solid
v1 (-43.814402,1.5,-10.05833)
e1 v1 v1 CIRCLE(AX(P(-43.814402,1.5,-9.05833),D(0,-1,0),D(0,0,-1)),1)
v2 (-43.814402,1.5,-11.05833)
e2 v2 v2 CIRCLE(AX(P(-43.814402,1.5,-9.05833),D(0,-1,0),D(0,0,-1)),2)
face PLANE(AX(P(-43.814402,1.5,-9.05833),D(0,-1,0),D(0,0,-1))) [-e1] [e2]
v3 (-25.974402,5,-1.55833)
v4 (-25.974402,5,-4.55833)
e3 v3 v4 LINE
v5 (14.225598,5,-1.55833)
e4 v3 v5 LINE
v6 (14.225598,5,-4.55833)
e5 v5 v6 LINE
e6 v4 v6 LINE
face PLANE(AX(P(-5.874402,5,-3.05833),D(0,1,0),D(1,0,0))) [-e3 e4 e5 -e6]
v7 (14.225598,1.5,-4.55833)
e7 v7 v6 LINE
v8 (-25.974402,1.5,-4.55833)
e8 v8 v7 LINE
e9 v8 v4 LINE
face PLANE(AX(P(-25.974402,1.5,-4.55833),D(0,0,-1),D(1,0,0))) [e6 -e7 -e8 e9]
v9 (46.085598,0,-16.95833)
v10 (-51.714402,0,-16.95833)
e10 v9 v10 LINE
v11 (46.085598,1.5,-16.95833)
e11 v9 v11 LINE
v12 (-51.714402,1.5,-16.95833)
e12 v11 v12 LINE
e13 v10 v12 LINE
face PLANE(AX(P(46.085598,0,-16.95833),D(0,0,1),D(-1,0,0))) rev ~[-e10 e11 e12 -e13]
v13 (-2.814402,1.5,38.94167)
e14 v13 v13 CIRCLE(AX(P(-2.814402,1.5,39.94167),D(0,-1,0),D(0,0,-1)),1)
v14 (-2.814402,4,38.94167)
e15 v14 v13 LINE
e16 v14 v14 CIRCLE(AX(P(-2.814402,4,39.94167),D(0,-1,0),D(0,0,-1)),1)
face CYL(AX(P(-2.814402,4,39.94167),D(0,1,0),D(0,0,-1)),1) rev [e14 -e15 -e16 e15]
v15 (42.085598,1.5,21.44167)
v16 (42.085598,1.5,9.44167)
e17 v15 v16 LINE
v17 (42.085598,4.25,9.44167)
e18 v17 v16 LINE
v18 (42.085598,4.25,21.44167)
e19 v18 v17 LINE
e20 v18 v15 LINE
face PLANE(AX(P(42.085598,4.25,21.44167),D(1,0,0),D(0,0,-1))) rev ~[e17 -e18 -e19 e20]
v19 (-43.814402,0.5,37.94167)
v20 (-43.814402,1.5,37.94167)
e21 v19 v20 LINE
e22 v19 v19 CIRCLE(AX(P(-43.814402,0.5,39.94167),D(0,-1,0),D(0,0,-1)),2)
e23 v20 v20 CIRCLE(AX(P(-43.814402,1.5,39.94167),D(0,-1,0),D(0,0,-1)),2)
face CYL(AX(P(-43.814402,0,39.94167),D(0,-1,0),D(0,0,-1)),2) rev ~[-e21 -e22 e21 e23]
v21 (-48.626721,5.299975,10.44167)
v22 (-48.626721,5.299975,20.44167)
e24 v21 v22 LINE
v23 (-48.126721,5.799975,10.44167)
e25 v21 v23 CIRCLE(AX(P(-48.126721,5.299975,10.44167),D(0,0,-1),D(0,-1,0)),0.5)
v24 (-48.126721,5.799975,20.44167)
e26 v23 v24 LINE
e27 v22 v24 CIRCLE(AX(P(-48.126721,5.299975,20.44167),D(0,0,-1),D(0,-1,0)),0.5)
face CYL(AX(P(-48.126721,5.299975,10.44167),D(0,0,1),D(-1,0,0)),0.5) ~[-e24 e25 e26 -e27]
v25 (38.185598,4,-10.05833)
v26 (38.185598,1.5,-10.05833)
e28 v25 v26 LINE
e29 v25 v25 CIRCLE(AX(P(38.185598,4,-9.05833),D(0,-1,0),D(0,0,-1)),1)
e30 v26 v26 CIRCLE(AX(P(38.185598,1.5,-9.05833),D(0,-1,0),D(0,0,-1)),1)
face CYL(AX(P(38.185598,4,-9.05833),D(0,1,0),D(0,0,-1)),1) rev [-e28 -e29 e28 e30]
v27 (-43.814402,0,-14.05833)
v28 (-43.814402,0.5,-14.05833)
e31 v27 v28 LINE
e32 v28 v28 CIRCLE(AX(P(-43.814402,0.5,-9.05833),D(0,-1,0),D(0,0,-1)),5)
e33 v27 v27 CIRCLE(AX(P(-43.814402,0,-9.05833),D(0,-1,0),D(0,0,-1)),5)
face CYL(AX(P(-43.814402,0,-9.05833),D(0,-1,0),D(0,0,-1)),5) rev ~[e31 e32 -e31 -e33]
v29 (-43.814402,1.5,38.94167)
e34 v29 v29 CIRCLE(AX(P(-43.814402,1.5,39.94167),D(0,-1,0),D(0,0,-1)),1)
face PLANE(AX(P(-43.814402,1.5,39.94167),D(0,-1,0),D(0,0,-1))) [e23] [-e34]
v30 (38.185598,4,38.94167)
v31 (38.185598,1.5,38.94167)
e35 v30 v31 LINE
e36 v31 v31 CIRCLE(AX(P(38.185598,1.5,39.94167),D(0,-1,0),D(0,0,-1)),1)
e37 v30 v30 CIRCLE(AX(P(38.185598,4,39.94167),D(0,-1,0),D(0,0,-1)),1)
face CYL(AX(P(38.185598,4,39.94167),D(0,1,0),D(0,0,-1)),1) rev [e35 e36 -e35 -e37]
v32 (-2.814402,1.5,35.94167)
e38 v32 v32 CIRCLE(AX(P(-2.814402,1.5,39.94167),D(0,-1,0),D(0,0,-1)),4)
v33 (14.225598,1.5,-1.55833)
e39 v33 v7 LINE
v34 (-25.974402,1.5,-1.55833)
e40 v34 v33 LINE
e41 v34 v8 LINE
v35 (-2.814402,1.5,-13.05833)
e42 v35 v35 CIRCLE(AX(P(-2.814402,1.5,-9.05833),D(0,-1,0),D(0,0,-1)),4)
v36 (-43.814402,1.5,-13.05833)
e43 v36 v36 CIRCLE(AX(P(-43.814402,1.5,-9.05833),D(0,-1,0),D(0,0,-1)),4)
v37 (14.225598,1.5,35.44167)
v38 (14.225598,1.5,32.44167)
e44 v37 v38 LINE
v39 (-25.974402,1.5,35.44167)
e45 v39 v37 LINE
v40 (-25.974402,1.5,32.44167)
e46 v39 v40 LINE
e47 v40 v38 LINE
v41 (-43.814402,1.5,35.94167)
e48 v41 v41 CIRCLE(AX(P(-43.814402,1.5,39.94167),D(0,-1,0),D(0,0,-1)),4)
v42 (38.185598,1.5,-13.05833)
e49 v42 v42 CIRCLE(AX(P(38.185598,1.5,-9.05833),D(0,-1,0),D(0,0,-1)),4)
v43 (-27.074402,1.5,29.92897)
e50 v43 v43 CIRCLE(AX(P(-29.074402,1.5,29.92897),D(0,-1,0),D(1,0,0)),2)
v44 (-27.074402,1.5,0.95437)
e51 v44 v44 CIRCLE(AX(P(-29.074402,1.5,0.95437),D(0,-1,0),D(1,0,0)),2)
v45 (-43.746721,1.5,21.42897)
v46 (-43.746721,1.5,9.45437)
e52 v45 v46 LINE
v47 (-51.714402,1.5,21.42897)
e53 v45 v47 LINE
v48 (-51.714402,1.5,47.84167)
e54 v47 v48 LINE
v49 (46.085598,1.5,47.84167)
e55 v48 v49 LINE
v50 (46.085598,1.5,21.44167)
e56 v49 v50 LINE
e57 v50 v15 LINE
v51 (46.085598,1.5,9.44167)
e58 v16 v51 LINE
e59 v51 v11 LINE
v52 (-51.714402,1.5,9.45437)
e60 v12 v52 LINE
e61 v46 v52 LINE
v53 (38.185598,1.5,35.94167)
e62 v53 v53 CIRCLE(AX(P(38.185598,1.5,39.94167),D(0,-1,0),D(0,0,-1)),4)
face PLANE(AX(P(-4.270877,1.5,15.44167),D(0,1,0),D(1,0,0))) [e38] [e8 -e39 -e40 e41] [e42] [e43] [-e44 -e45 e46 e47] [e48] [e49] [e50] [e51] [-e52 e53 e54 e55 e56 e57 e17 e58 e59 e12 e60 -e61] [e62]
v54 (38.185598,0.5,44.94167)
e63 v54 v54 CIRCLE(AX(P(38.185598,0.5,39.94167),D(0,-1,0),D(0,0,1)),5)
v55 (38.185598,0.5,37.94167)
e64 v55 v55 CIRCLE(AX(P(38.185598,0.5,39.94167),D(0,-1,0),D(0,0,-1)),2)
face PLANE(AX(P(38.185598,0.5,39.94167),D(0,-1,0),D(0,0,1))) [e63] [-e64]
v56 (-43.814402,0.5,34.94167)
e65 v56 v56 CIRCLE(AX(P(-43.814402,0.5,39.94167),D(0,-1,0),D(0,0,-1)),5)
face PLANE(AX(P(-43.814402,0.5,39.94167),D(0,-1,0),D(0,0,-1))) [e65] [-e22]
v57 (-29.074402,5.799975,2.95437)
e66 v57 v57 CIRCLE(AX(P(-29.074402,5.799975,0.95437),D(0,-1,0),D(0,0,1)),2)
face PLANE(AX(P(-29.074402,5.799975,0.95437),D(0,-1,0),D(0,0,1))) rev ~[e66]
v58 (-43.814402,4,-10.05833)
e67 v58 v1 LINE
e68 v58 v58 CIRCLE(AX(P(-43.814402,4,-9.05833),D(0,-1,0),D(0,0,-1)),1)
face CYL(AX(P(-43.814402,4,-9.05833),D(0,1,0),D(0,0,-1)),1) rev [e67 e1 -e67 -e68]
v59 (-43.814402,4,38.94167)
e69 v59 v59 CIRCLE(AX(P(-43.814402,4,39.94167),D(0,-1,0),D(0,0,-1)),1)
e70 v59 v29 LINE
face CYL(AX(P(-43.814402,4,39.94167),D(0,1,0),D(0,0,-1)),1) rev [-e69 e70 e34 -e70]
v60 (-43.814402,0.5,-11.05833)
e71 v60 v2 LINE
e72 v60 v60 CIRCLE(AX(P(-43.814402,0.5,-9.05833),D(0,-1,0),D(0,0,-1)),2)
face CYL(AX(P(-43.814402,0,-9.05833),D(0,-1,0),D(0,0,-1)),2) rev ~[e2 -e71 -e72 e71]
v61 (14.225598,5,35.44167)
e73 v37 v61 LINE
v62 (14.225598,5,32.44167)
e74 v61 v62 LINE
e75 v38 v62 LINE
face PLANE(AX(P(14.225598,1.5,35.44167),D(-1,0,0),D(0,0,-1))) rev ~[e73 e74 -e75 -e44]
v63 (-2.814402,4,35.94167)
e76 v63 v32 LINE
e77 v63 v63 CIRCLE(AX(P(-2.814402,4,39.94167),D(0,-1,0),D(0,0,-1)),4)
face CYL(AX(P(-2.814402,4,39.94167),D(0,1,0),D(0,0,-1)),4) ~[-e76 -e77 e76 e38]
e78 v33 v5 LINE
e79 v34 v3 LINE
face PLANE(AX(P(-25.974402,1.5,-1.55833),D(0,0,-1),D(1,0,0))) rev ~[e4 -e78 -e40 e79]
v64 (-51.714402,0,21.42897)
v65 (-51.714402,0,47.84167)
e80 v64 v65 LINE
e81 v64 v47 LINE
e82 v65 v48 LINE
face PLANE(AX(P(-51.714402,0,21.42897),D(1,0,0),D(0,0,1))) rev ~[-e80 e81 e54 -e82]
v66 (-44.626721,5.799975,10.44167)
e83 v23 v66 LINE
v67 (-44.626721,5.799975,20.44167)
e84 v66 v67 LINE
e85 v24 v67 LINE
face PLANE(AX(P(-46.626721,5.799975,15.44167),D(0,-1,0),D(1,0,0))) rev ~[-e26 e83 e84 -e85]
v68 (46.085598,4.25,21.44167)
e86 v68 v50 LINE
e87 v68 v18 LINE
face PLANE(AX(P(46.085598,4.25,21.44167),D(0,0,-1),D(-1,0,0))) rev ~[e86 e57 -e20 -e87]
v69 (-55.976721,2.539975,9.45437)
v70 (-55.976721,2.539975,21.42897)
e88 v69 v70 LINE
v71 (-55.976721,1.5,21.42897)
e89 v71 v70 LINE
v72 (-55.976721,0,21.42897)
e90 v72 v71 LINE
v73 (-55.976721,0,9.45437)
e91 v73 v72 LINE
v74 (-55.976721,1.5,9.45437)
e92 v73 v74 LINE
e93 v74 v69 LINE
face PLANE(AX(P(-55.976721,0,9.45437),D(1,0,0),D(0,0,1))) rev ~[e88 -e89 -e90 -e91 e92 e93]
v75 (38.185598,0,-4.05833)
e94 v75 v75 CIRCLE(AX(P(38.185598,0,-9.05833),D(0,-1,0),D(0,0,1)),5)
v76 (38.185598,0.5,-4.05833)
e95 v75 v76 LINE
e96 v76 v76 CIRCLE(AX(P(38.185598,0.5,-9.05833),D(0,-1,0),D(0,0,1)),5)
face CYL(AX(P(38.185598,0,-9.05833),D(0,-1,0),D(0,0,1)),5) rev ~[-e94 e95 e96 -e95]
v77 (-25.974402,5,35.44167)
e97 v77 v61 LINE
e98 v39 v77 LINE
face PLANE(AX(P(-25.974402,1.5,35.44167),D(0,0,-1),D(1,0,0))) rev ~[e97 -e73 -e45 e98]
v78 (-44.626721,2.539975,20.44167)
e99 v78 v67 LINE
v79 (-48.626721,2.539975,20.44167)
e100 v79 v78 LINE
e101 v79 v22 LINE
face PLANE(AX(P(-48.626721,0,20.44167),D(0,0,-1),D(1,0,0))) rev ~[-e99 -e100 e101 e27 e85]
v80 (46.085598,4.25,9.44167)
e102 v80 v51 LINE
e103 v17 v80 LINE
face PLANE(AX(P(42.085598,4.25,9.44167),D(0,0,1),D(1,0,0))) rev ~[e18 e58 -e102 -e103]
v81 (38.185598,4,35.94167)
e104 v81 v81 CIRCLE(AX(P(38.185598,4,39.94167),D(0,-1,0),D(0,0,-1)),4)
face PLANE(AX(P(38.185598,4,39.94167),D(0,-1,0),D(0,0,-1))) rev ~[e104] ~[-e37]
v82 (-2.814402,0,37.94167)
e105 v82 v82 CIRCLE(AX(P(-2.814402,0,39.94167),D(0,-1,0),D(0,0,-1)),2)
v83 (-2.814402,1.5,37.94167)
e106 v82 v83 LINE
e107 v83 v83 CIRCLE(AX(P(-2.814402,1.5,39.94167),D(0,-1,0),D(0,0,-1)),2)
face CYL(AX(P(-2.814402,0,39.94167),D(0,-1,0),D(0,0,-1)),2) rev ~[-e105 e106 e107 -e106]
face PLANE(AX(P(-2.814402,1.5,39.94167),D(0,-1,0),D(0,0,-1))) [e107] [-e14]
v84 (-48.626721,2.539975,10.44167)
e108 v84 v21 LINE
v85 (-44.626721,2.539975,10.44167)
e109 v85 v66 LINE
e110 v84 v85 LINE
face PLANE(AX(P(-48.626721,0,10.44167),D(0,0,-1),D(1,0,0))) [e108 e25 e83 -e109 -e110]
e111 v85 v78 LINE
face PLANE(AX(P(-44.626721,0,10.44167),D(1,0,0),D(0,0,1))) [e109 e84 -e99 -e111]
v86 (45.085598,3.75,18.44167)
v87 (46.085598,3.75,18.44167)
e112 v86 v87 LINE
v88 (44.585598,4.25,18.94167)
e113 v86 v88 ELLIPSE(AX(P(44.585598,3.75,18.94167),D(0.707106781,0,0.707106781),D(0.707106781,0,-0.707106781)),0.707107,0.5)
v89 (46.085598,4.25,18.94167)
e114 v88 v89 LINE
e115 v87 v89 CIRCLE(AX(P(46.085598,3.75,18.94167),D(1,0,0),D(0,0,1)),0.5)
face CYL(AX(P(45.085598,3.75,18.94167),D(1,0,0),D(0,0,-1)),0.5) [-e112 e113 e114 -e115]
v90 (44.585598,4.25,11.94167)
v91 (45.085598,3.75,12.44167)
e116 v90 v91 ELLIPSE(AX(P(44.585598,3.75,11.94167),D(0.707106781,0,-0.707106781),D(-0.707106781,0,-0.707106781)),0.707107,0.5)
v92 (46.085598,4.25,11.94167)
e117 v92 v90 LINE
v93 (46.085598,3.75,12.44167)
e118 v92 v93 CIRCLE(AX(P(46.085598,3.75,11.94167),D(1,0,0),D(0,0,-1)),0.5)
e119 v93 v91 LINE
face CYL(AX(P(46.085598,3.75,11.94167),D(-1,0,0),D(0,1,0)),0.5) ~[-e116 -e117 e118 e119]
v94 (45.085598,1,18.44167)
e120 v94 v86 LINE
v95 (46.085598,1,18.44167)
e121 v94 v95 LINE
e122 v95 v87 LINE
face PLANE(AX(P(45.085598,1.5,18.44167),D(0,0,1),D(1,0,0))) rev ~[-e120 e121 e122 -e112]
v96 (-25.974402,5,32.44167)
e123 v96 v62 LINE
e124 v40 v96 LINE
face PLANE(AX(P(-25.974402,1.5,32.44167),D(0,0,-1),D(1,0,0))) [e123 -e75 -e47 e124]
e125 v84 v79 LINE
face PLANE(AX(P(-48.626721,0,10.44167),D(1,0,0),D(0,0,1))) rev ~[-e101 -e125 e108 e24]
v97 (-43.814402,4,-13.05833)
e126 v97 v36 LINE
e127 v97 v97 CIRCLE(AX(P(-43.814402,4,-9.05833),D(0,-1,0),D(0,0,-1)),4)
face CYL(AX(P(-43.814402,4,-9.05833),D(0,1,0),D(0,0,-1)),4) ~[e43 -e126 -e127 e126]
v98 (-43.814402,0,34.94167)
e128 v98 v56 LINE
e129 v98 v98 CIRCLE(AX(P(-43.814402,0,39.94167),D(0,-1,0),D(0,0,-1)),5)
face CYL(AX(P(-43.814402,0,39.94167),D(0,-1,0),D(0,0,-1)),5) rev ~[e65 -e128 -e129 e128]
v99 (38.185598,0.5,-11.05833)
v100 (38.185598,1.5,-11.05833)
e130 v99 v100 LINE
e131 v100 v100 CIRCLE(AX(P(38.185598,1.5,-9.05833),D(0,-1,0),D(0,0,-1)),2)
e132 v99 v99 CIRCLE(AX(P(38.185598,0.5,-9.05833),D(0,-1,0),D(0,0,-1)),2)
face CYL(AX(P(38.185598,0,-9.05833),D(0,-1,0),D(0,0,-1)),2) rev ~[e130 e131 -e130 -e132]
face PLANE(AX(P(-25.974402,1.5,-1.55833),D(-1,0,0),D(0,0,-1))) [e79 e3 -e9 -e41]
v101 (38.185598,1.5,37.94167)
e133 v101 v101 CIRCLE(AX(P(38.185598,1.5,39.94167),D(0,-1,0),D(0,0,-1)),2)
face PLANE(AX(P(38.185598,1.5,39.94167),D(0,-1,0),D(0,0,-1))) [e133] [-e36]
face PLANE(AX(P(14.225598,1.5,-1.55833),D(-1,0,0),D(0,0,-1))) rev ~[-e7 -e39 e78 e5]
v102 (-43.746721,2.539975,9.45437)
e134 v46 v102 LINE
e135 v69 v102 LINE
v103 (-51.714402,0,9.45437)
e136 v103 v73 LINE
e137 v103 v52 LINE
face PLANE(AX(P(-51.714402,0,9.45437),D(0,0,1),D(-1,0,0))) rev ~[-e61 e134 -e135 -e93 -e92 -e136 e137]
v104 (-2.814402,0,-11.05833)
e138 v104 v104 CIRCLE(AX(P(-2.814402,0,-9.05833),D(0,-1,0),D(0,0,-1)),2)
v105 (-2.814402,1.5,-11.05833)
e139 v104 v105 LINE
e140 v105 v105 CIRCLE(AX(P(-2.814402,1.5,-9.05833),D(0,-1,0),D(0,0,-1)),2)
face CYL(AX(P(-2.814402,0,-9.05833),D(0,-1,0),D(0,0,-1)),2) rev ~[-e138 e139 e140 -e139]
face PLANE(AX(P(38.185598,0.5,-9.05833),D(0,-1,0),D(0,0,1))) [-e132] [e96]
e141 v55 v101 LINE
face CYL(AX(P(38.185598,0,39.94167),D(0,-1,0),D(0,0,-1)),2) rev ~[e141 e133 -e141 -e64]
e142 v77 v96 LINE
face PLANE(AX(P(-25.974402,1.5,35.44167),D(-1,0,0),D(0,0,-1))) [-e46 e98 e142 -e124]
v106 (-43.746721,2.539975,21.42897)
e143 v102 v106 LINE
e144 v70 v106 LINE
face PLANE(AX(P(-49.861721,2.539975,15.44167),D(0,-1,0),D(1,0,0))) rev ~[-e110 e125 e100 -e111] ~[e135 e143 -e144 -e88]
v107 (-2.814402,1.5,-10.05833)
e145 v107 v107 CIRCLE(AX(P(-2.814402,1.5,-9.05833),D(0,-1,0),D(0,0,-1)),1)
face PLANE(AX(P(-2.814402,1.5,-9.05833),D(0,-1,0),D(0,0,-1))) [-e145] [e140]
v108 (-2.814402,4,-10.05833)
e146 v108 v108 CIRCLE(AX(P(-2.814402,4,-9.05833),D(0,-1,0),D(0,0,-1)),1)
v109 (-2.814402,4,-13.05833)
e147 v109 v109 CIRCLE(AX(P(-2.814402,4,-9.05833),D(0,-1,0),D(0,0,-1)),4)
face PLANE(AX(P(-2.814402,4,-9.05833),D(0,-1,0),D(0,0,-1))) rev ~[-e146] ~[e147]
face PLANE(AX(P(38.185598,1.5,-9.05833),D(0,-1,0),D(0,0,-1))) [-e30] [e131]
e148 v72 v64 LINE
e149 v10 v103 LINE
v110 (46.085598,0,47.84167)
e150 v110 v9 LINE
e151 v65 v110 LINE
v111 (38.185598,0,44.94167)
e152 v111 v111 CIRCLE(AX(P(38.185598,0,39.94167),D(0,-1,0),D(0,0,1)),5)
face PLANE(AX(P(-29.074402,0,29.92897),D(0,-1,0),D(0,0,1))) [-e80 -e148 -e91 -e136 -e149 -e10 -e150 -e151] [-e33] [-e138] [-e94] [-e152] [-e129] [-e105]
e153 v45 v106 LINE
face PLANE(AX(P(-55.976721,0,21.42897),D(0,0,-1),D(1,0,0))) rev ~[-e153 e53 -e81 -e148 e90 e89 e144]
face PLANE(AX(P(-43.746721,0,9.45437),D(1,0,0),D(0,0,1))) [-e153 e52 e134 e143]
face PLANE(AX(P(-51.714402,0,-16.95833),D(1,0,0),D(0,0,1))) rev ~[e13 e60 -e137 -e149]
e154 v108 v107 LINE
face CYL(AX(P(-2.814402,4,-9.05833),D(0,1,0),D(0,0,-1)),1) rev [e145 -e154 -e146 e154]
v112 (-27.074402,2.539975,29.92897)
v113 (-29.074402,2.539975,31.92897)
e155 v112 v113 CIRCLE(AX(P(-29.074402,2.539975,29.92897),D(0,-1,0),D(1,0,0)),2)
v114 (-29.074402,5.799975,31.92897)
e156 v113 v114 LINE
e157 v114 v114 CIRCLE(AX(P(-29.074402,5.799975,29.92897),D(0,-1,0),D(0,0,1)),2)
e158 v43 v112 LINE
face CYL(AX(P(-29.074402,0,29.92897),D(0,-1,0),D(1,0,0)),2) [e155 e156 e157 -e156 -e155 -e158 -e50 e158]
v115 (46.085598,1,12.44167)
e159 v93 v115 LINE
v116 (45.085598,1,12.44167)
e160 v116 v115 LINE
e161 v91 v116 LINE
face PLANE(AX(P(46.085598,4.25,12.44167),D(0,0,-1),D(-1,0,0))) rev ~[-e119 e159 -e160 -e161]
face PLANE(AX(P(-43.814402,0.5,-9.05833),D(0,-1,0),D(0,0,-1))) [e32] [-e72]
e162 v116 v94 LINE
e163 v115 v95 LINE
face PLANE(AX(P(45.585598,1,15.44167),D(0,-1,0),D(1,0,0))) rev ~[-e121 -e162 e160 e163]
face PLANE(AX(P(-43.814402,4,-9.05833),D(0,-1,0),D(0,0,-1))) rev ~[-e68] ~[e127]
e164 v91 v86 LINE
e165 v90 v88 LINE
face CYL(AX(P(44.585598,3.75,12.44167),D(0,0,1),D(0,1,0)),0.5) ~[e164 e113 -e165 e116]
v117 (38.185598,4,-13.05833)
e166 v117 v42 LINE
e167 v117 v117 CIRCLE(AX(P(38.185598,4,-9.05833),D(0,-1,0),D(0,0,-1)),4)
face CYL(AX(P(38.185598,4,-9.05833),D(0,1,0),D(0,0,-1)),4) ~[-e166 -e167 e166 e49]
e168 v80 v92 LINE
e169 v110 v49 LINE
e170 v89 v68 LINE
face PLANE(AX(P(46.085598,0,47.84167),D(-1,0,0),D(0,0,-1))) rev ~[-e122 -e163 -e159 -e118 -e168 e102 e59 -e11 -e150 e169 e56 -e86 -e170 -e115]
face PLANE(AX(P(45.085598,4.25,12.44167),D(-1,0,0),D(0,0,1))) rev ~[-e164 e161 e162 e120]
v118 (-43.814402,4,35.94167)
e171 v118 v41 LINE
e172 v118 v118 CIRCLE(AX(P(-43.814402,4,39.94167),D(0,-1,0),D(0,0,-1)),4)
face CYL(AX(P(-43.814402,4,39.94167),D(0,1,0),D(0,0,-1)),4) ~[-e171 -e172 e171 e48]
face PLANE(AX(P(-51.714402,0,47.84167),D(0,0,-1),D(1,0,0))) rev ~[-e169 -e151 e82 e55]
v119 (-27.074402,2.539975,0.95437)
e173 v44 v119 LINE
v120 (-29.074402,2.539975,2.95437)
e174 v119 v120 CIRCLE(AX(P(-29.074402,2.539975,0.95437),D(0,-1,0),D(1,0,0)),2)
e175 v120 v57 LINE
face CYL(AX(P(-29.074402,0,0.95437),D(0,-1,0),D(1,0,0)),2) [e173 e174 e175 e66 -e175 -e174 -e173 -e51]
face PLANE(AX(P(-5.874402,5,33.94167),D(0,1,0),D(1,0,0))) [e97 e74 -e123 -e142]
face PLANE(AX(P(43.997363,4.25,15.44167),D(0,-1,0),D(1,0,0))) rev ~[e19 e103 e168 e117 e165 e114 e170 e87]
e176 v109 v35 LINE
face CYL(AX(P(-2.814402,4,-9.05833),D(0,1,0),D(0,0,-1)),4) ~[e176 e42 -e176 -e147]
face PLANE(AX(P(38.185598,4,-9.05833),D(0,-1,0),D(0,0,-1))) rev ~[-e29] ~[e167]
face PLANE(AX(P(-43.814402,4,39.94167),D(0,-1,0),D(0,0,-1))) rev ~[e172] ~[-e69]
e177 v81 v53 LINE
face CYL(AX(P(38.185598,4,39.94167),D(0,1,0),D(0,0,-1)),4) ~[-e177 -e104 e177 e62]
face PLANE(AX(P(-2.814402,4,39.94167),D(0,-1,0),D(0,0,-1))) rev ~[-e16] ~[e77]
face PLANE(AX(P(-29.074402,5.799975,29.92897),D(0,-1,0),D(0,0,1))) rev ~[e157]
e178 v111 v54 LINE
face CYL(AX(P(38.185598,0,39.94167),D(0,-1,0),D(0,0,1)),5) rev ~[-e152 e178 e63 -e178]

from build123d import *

# Parameters (mm, degrees)
EXTRUDE_1_DEPTH     = 1.5
SKETCH_2_R          = 5
CUT_EXTRUDE_1_DEPTH = 0.5
SKETCH_11_R         = 2
SKETCH_11_W         = 12.230000074
SKETCH_11_H         = 11.974599949
EXTRUDE_5_DEPTH     = 2.539974634
SKETCH_13_R         = 2
SKETCH_13_W         = 4
SKETCH_13_H         = 10
TYPEC_2_DEPTH       = 5.7999746
LED_3_START         = -4.25
LED_3_DEPTH         = 2.75
LED_1_R             = 0.5
CUT_EXTRUDE_2_REACH = 75.864
SKETCH_15_R         = 2
EXTRUDE_START       = -4
SKETCH_16_R         = 4
SKETCH_16_R_2       = 1
EXTRUDE_4_DEPTH     = 2.5
LED_2_START         = -1.5
SKETCH_17_W         = 1
SKETCH_17_H         = 6
LED_2_DEPTH         = 0.5
SKETCH_18_W         = 40.2
SKETCH_18_H         = 3
EXTRUDE_2_DEPTH     = 3.5


with BuildPart() as part:
    # 草图1 → 凸台-拉伸1 (new body)
    with BuildSketch(Plane(origin=(0, 0, 0), x_dir=(1, 0, 0), z_dir=(0, 1, 0))):
        Polygon((-51.714401712, -9.454370264), (-55.976720775, -9.454370264), (-55.976720775, -21.428970213), (-51.714401712, -21.428970213), (-51.714401712, -47.841670238), (46.085598288, -47.841670238), (46.085598288, 16.958329762), (-51.714401712, 16.958329762), align=None)
    extrude(amount=EXTRUDE_1_DEPTH)

    # 草图2 → 防滑切除-拉伸1 (cut)
    with BuildSketch(Plane.XZ):
        with Locations(Location((-43.814401712, 39.941670238, 0), (0, 0, 270))):
            Circle(SKETCH_2_R)
        with Locations(Location((38.185598288, 39.941670238, 0), (0, 0, 90))):
            Circle(SKETCH_2_R)
        with Locations(Location((38.185598288, -9.058329762, 0), (0, 0, 90))):
            Circle(SKETCH_2_R)
        with Locations(Location((-43.814401712, -9.058329762, 0), (0, 0, 270))):
            Circle(SKETCH_2_R)
    extrude(amount=-CUT_EXTRUDE_1_DEPTH, mode=Mode.SUBTRACT)

    # 草图11 → 充电板档板凸台-拉伸5 (add)
    with BuildSketch(Plane.XZ):
        with Locations((-29.074401712, 29.928970213)):
            Circle(SKETCH_11_R)
        with Locations((-29.074401712, 0.954370264)):
            Circle(SKETCH_11_R)
        with Locations((-49.861720738, 15.441670239)):
            Rectangle(SKETCH_11_W, SKETCH_11_H)
    extrude(amount=-EXTRUDE_5_DEPTH)

    # 草图13 → TypeC支撑凸台-拉伸2 (add)
    with BuildSketch(Plane.XZ):
        with Locations(Location((-29.074401712, 29.928970213, 0), (0, 0, 90))):
            Circle(SKETCH_13_R)
        with Locations(Location((-29.074401712, 0.954370264, 0), (0, 0, 90))):
            Circle(SKETCH_13_R)
        with Locations((-46.626720701, 15.441670238)):
            Rectangle(SKETCH_13_W, SKETCH_13_H)
    extrude(amount=-TYPEC_2_DEPTH)

    # 草图14 → LED限位凸台-拉伸3 (add)
    with BuildSketch(Plane.XZ.offset(LED_3_START)):
        Polygon((45.085598288, 12.441670238), (45.085598288, 18.441670238), (46.085598288, 18.441670238), (46.085598288, 21.441670238), (42.085598288, 21.441670238), (42.085598288, 9.441670238), (46.085598288, 9.441670238), (46.085598288, 12.441670238), align=None)
    extrude(amount=LED_3_DEPTH)

    # LED限位圆角1
    led_1_edges = [part.edges().sort_by_distance(p)[0] for p in [
        (45.585598288, 4.25, 18.441670238),
        (45.585598288, 4.25, 12.441670238),
        (45.085598288, 4.25, 15.441670238),
        (-48.626720701, 5.7999746, 15.441670238),
    ]]
    fillet(led_1_edges, radius=LED_1_R)

    # 草图15 → 螺丝孔位切除-拉伸2 (cut, up to next)
    with BuildSketch(Plane.XZ, mode=Mode.PRIVATE) as cut_extrude_2_sk1:
        with Locations(Location((-43.814401712, -9.058329762, 0), (0, 0, 270))):
            Circle(SKETCH_15_R)
    cut_extrude_2_tool1 = extrude(cut_extrude_2_sk1.sketch, amount=-CUT_EXTRUDE_2_REACH, mode=Mode.PRIVATE) & part.part
    # 草图15 → 螺丝孔位切除-拉伸2 (cut, up to next)
    with BuildSketch(Plane.XZ, mode=Mode.PRIVATE) as cut_extrude_2_sk2:
        with Locations(Location((-43.814401712, 39.941670238, 0), (0, 0, 270))):
            Circle(SKETCH_15_R)
    cut_extrude_2_tool2 = extrude(cut_extrude_2_sk2.sketch, amount=-CUT_EXTRUDE_2_REACH, mode=Mode.PRIVATE) & part.part
    # 草图15 → 螺丝孔位切除-拉伸2 (cut, up to next)
    with BuildSketch(Plane.XZ, mode=Mode.PRIVATE) as cut_extrude_2_sk3:
        with Locations(Location((38.185598288, -9.058329762, 0), (0, 0, 270))):
            Circle(SKETCH_15_R)
    cut_extrude_2_tool3 = extrude(cut_extrude_2_sk3.sketch, amount=-CUT_EXTRUDE_2_REACH, mode=Mode.PRIVATE) & part.part
    # 草图15 → 螺丝孔位切除-拉伸2 (cut, up to next)
    with BuildSketch(Plane.XZ, mode=Mode.PRIVATE) as cut_extrude_2_sk4:
        with Locations(Location((38.185598288, 39.941670238, 0), (0, 0, 270))):
            Circle(SKETCH_15_R)
    cut_extrude_2_tool4 = extrude(cut_extrude_2_sk4.sketch, amount=-CUT_EXTRUDE_2_REACH, mode=Mode.PRIVATE) & part.part
    # 草图15 → 螺丝孔位切除-拉伸2 (cut, up to next)
    with BuildSketch(Plane.XZ, mode=Mode.PRIVATE) as cut_extrude_2_sk5:
        with Locations(Location((-2.814401712, 39.941670238, 0), (0, 0, 270))):
            Circle(SKETCH_15_R)
    cut_extrude_2_tool5 = extrude(cut_extrude_2_sk5.sketch, amount=-CUT_EXTRUDE_2_REACH, mode=Mode.PRIVATE) & part.part
    # 草图15 → 螺丝孔位切除-拉伸2 (cut, up to next)
    with BuildSketch(Plane.XZ, mode=Mode.PRIVATE) as cut_extrude_2_sk6:
        with Locations(Location((-2.814401712, -9.058329762, 0), (0, 0, 270))):
            Circle(SKETCH_15_R)
    cut_extrude_2_tool6 = extrude(cut_extrude_2_sk6.sketch, amount=-CUT_EXTRUDE_2_REACH, mode=Mode.PRIVATE) & part.part
    add(cut_extrude_2_tool1.solids().sort_by_distance((-43.814402, 0, -9.05833))[0], mode=Mode.SUBTRACT)
    add(cut_extrude_2_tool2.solids().sort_by_distance((-43.814402, 0, 39.94167))[0], mode=Mode.SUBTRACT)
    add(cut_extrude_2_tool3.solids().sort_by_distance((38.185598, 0, -9.05833))[0], mode=Mode.SUBTRACT)
    add(cut_extrude_2_tool4.solids().sort_by_distance((38.185598, 0, 39.94167))[0], mode=Mode.SUBTRACT)
    add(cut_extrude_2_tool5.solids().sort_by_distance((-2.814402, 0, 39.94167))[0], mode=Mode.SUBTRACT)
    add(cut_extrude_2_tool6.solids().sort_by_distance((-2.814402, 0, -9.05833))[0], mode=Mode.SUBTRACT)

    # 草图16 → 螺丝孔凸台-拉伸4 (add)
    # profile 1 of 6: a face of its own
    with BuildSketch(Plane.XZ.offset(EXTRUDE_START)):
        with Locations(Location((38.185598288, -9.058329762, 0), (0, 0, 270))):
            Circle(SKETCH_16_R)
        with Locations(Location((38.185598288, -9.058329762, 0), (0, 0, 270))):
            Circle(SKETCH_16_R_2, mode=Mode.SUBTRACT)
    # profile 2 of 6: a face of its own
    with BuildSketch(Plane.XZ.offset(EXTRUDE_START)):
        with Locations(Location((38.185598288, 39.941670238, 0), (0, 0, 270))):
            Circle(SKETCH_16_R)
        with Locations(Location((38.185598288, 39.941670238, 0), (0, 0, 270))):
            Circle(SKETCH_16_R_2, mode=Mode.SUBTRACT)
    # profile 3 of 6: a face of its own
    with BuildSketch(Plane.XZ.offset(EXTRUDE_START)):
        with Locations(Location((-43.814401712, -9.058329762, 0), (0, 0, 270))):
            Circle(SKETCH_16_R)
        with Locations(Location((-43.814401712, -9.058329762, 0), (0, 0, 270))):
            Circle(SKETCH_16_R_2, mode=Mode.SUBTRACT)
    # profile 4 of 6: a face of its own
    with BuildSketch(Plane.XZ.offset(EXTRUDE_START)):
        with Locations(Location((-43.814401712, 39.941670238, 0), (0, 0, 270))):
            Circle(SKETCH_16_R)
        with Locations(Location((-43.814401712, 39.941670238, 0), (0, 0, 270))):
            Circle(SKETCH_16_R_2, mode=Mode.SUBTRACT)
    # profile 5 of 6: a face of its own
    with BuildSketch(Plane.XZ.offset(EXTRUDE_START)):
        with Locations(Location((-2.814401712, 39.941670238, 0), (0, 0, 270))):
            Circle(SKETCH_16_R)
        with Locations(Location((-2.814401712, 39.941670238, 0), (0, 0, 270))):
            Circle(SKETCH_16_R_2, mode=Mode.SUBTRACT)
    # profile 6 of 6: a face of its own
    with BuildSketch(Plane.XZ.offset(EXTRUDE_START)):
        with Locations(Location((-2.814401712, -9.058329762, 0), (0, 0, 270))):
            Circle(SKETCH_16_R)
        with Locations(Location((-2.814401712, -9.058329762, 0), (0, 0, 270))):
            Circle(SKETCH_16_R_2, mode=Mode.SUBTRACT)
    extrude(amount=EXTRUDE_4_DEPTH)

    # 草图17 → LED灯嵌入切除-拉伸2 (cut)
    with BuildSketch(Plane.XZ.offset(LED_2_START)):
        with Locations((45.585598288, 15.441670238)):
            Rectangle(SKETCH_17_W, SKETCH_17_H)
    extrude(amount=LED_2_DEPTH, mode=Mode.SUBTRACT)

    # 草图18 → 散热板支撑凸台-拉伸2 (add)
    with BuildSketch(Plane(origin=(0, 1.5, 0), x_dir=(1, 0, 0), z_dir=(0, 1, 0))):
        with Locations((-5.874401712, 3.058329762)):
            Rectangle(SKETCH_18_W, SKETCH_18_H)
        with Locations((-5.874401712, -33.941670238)):
            Rectangle(SKETCH_18_W, SKETCH_18_H)
    extrude(amount=EXTRUDE_2_DEPTH)


solid = part.part
